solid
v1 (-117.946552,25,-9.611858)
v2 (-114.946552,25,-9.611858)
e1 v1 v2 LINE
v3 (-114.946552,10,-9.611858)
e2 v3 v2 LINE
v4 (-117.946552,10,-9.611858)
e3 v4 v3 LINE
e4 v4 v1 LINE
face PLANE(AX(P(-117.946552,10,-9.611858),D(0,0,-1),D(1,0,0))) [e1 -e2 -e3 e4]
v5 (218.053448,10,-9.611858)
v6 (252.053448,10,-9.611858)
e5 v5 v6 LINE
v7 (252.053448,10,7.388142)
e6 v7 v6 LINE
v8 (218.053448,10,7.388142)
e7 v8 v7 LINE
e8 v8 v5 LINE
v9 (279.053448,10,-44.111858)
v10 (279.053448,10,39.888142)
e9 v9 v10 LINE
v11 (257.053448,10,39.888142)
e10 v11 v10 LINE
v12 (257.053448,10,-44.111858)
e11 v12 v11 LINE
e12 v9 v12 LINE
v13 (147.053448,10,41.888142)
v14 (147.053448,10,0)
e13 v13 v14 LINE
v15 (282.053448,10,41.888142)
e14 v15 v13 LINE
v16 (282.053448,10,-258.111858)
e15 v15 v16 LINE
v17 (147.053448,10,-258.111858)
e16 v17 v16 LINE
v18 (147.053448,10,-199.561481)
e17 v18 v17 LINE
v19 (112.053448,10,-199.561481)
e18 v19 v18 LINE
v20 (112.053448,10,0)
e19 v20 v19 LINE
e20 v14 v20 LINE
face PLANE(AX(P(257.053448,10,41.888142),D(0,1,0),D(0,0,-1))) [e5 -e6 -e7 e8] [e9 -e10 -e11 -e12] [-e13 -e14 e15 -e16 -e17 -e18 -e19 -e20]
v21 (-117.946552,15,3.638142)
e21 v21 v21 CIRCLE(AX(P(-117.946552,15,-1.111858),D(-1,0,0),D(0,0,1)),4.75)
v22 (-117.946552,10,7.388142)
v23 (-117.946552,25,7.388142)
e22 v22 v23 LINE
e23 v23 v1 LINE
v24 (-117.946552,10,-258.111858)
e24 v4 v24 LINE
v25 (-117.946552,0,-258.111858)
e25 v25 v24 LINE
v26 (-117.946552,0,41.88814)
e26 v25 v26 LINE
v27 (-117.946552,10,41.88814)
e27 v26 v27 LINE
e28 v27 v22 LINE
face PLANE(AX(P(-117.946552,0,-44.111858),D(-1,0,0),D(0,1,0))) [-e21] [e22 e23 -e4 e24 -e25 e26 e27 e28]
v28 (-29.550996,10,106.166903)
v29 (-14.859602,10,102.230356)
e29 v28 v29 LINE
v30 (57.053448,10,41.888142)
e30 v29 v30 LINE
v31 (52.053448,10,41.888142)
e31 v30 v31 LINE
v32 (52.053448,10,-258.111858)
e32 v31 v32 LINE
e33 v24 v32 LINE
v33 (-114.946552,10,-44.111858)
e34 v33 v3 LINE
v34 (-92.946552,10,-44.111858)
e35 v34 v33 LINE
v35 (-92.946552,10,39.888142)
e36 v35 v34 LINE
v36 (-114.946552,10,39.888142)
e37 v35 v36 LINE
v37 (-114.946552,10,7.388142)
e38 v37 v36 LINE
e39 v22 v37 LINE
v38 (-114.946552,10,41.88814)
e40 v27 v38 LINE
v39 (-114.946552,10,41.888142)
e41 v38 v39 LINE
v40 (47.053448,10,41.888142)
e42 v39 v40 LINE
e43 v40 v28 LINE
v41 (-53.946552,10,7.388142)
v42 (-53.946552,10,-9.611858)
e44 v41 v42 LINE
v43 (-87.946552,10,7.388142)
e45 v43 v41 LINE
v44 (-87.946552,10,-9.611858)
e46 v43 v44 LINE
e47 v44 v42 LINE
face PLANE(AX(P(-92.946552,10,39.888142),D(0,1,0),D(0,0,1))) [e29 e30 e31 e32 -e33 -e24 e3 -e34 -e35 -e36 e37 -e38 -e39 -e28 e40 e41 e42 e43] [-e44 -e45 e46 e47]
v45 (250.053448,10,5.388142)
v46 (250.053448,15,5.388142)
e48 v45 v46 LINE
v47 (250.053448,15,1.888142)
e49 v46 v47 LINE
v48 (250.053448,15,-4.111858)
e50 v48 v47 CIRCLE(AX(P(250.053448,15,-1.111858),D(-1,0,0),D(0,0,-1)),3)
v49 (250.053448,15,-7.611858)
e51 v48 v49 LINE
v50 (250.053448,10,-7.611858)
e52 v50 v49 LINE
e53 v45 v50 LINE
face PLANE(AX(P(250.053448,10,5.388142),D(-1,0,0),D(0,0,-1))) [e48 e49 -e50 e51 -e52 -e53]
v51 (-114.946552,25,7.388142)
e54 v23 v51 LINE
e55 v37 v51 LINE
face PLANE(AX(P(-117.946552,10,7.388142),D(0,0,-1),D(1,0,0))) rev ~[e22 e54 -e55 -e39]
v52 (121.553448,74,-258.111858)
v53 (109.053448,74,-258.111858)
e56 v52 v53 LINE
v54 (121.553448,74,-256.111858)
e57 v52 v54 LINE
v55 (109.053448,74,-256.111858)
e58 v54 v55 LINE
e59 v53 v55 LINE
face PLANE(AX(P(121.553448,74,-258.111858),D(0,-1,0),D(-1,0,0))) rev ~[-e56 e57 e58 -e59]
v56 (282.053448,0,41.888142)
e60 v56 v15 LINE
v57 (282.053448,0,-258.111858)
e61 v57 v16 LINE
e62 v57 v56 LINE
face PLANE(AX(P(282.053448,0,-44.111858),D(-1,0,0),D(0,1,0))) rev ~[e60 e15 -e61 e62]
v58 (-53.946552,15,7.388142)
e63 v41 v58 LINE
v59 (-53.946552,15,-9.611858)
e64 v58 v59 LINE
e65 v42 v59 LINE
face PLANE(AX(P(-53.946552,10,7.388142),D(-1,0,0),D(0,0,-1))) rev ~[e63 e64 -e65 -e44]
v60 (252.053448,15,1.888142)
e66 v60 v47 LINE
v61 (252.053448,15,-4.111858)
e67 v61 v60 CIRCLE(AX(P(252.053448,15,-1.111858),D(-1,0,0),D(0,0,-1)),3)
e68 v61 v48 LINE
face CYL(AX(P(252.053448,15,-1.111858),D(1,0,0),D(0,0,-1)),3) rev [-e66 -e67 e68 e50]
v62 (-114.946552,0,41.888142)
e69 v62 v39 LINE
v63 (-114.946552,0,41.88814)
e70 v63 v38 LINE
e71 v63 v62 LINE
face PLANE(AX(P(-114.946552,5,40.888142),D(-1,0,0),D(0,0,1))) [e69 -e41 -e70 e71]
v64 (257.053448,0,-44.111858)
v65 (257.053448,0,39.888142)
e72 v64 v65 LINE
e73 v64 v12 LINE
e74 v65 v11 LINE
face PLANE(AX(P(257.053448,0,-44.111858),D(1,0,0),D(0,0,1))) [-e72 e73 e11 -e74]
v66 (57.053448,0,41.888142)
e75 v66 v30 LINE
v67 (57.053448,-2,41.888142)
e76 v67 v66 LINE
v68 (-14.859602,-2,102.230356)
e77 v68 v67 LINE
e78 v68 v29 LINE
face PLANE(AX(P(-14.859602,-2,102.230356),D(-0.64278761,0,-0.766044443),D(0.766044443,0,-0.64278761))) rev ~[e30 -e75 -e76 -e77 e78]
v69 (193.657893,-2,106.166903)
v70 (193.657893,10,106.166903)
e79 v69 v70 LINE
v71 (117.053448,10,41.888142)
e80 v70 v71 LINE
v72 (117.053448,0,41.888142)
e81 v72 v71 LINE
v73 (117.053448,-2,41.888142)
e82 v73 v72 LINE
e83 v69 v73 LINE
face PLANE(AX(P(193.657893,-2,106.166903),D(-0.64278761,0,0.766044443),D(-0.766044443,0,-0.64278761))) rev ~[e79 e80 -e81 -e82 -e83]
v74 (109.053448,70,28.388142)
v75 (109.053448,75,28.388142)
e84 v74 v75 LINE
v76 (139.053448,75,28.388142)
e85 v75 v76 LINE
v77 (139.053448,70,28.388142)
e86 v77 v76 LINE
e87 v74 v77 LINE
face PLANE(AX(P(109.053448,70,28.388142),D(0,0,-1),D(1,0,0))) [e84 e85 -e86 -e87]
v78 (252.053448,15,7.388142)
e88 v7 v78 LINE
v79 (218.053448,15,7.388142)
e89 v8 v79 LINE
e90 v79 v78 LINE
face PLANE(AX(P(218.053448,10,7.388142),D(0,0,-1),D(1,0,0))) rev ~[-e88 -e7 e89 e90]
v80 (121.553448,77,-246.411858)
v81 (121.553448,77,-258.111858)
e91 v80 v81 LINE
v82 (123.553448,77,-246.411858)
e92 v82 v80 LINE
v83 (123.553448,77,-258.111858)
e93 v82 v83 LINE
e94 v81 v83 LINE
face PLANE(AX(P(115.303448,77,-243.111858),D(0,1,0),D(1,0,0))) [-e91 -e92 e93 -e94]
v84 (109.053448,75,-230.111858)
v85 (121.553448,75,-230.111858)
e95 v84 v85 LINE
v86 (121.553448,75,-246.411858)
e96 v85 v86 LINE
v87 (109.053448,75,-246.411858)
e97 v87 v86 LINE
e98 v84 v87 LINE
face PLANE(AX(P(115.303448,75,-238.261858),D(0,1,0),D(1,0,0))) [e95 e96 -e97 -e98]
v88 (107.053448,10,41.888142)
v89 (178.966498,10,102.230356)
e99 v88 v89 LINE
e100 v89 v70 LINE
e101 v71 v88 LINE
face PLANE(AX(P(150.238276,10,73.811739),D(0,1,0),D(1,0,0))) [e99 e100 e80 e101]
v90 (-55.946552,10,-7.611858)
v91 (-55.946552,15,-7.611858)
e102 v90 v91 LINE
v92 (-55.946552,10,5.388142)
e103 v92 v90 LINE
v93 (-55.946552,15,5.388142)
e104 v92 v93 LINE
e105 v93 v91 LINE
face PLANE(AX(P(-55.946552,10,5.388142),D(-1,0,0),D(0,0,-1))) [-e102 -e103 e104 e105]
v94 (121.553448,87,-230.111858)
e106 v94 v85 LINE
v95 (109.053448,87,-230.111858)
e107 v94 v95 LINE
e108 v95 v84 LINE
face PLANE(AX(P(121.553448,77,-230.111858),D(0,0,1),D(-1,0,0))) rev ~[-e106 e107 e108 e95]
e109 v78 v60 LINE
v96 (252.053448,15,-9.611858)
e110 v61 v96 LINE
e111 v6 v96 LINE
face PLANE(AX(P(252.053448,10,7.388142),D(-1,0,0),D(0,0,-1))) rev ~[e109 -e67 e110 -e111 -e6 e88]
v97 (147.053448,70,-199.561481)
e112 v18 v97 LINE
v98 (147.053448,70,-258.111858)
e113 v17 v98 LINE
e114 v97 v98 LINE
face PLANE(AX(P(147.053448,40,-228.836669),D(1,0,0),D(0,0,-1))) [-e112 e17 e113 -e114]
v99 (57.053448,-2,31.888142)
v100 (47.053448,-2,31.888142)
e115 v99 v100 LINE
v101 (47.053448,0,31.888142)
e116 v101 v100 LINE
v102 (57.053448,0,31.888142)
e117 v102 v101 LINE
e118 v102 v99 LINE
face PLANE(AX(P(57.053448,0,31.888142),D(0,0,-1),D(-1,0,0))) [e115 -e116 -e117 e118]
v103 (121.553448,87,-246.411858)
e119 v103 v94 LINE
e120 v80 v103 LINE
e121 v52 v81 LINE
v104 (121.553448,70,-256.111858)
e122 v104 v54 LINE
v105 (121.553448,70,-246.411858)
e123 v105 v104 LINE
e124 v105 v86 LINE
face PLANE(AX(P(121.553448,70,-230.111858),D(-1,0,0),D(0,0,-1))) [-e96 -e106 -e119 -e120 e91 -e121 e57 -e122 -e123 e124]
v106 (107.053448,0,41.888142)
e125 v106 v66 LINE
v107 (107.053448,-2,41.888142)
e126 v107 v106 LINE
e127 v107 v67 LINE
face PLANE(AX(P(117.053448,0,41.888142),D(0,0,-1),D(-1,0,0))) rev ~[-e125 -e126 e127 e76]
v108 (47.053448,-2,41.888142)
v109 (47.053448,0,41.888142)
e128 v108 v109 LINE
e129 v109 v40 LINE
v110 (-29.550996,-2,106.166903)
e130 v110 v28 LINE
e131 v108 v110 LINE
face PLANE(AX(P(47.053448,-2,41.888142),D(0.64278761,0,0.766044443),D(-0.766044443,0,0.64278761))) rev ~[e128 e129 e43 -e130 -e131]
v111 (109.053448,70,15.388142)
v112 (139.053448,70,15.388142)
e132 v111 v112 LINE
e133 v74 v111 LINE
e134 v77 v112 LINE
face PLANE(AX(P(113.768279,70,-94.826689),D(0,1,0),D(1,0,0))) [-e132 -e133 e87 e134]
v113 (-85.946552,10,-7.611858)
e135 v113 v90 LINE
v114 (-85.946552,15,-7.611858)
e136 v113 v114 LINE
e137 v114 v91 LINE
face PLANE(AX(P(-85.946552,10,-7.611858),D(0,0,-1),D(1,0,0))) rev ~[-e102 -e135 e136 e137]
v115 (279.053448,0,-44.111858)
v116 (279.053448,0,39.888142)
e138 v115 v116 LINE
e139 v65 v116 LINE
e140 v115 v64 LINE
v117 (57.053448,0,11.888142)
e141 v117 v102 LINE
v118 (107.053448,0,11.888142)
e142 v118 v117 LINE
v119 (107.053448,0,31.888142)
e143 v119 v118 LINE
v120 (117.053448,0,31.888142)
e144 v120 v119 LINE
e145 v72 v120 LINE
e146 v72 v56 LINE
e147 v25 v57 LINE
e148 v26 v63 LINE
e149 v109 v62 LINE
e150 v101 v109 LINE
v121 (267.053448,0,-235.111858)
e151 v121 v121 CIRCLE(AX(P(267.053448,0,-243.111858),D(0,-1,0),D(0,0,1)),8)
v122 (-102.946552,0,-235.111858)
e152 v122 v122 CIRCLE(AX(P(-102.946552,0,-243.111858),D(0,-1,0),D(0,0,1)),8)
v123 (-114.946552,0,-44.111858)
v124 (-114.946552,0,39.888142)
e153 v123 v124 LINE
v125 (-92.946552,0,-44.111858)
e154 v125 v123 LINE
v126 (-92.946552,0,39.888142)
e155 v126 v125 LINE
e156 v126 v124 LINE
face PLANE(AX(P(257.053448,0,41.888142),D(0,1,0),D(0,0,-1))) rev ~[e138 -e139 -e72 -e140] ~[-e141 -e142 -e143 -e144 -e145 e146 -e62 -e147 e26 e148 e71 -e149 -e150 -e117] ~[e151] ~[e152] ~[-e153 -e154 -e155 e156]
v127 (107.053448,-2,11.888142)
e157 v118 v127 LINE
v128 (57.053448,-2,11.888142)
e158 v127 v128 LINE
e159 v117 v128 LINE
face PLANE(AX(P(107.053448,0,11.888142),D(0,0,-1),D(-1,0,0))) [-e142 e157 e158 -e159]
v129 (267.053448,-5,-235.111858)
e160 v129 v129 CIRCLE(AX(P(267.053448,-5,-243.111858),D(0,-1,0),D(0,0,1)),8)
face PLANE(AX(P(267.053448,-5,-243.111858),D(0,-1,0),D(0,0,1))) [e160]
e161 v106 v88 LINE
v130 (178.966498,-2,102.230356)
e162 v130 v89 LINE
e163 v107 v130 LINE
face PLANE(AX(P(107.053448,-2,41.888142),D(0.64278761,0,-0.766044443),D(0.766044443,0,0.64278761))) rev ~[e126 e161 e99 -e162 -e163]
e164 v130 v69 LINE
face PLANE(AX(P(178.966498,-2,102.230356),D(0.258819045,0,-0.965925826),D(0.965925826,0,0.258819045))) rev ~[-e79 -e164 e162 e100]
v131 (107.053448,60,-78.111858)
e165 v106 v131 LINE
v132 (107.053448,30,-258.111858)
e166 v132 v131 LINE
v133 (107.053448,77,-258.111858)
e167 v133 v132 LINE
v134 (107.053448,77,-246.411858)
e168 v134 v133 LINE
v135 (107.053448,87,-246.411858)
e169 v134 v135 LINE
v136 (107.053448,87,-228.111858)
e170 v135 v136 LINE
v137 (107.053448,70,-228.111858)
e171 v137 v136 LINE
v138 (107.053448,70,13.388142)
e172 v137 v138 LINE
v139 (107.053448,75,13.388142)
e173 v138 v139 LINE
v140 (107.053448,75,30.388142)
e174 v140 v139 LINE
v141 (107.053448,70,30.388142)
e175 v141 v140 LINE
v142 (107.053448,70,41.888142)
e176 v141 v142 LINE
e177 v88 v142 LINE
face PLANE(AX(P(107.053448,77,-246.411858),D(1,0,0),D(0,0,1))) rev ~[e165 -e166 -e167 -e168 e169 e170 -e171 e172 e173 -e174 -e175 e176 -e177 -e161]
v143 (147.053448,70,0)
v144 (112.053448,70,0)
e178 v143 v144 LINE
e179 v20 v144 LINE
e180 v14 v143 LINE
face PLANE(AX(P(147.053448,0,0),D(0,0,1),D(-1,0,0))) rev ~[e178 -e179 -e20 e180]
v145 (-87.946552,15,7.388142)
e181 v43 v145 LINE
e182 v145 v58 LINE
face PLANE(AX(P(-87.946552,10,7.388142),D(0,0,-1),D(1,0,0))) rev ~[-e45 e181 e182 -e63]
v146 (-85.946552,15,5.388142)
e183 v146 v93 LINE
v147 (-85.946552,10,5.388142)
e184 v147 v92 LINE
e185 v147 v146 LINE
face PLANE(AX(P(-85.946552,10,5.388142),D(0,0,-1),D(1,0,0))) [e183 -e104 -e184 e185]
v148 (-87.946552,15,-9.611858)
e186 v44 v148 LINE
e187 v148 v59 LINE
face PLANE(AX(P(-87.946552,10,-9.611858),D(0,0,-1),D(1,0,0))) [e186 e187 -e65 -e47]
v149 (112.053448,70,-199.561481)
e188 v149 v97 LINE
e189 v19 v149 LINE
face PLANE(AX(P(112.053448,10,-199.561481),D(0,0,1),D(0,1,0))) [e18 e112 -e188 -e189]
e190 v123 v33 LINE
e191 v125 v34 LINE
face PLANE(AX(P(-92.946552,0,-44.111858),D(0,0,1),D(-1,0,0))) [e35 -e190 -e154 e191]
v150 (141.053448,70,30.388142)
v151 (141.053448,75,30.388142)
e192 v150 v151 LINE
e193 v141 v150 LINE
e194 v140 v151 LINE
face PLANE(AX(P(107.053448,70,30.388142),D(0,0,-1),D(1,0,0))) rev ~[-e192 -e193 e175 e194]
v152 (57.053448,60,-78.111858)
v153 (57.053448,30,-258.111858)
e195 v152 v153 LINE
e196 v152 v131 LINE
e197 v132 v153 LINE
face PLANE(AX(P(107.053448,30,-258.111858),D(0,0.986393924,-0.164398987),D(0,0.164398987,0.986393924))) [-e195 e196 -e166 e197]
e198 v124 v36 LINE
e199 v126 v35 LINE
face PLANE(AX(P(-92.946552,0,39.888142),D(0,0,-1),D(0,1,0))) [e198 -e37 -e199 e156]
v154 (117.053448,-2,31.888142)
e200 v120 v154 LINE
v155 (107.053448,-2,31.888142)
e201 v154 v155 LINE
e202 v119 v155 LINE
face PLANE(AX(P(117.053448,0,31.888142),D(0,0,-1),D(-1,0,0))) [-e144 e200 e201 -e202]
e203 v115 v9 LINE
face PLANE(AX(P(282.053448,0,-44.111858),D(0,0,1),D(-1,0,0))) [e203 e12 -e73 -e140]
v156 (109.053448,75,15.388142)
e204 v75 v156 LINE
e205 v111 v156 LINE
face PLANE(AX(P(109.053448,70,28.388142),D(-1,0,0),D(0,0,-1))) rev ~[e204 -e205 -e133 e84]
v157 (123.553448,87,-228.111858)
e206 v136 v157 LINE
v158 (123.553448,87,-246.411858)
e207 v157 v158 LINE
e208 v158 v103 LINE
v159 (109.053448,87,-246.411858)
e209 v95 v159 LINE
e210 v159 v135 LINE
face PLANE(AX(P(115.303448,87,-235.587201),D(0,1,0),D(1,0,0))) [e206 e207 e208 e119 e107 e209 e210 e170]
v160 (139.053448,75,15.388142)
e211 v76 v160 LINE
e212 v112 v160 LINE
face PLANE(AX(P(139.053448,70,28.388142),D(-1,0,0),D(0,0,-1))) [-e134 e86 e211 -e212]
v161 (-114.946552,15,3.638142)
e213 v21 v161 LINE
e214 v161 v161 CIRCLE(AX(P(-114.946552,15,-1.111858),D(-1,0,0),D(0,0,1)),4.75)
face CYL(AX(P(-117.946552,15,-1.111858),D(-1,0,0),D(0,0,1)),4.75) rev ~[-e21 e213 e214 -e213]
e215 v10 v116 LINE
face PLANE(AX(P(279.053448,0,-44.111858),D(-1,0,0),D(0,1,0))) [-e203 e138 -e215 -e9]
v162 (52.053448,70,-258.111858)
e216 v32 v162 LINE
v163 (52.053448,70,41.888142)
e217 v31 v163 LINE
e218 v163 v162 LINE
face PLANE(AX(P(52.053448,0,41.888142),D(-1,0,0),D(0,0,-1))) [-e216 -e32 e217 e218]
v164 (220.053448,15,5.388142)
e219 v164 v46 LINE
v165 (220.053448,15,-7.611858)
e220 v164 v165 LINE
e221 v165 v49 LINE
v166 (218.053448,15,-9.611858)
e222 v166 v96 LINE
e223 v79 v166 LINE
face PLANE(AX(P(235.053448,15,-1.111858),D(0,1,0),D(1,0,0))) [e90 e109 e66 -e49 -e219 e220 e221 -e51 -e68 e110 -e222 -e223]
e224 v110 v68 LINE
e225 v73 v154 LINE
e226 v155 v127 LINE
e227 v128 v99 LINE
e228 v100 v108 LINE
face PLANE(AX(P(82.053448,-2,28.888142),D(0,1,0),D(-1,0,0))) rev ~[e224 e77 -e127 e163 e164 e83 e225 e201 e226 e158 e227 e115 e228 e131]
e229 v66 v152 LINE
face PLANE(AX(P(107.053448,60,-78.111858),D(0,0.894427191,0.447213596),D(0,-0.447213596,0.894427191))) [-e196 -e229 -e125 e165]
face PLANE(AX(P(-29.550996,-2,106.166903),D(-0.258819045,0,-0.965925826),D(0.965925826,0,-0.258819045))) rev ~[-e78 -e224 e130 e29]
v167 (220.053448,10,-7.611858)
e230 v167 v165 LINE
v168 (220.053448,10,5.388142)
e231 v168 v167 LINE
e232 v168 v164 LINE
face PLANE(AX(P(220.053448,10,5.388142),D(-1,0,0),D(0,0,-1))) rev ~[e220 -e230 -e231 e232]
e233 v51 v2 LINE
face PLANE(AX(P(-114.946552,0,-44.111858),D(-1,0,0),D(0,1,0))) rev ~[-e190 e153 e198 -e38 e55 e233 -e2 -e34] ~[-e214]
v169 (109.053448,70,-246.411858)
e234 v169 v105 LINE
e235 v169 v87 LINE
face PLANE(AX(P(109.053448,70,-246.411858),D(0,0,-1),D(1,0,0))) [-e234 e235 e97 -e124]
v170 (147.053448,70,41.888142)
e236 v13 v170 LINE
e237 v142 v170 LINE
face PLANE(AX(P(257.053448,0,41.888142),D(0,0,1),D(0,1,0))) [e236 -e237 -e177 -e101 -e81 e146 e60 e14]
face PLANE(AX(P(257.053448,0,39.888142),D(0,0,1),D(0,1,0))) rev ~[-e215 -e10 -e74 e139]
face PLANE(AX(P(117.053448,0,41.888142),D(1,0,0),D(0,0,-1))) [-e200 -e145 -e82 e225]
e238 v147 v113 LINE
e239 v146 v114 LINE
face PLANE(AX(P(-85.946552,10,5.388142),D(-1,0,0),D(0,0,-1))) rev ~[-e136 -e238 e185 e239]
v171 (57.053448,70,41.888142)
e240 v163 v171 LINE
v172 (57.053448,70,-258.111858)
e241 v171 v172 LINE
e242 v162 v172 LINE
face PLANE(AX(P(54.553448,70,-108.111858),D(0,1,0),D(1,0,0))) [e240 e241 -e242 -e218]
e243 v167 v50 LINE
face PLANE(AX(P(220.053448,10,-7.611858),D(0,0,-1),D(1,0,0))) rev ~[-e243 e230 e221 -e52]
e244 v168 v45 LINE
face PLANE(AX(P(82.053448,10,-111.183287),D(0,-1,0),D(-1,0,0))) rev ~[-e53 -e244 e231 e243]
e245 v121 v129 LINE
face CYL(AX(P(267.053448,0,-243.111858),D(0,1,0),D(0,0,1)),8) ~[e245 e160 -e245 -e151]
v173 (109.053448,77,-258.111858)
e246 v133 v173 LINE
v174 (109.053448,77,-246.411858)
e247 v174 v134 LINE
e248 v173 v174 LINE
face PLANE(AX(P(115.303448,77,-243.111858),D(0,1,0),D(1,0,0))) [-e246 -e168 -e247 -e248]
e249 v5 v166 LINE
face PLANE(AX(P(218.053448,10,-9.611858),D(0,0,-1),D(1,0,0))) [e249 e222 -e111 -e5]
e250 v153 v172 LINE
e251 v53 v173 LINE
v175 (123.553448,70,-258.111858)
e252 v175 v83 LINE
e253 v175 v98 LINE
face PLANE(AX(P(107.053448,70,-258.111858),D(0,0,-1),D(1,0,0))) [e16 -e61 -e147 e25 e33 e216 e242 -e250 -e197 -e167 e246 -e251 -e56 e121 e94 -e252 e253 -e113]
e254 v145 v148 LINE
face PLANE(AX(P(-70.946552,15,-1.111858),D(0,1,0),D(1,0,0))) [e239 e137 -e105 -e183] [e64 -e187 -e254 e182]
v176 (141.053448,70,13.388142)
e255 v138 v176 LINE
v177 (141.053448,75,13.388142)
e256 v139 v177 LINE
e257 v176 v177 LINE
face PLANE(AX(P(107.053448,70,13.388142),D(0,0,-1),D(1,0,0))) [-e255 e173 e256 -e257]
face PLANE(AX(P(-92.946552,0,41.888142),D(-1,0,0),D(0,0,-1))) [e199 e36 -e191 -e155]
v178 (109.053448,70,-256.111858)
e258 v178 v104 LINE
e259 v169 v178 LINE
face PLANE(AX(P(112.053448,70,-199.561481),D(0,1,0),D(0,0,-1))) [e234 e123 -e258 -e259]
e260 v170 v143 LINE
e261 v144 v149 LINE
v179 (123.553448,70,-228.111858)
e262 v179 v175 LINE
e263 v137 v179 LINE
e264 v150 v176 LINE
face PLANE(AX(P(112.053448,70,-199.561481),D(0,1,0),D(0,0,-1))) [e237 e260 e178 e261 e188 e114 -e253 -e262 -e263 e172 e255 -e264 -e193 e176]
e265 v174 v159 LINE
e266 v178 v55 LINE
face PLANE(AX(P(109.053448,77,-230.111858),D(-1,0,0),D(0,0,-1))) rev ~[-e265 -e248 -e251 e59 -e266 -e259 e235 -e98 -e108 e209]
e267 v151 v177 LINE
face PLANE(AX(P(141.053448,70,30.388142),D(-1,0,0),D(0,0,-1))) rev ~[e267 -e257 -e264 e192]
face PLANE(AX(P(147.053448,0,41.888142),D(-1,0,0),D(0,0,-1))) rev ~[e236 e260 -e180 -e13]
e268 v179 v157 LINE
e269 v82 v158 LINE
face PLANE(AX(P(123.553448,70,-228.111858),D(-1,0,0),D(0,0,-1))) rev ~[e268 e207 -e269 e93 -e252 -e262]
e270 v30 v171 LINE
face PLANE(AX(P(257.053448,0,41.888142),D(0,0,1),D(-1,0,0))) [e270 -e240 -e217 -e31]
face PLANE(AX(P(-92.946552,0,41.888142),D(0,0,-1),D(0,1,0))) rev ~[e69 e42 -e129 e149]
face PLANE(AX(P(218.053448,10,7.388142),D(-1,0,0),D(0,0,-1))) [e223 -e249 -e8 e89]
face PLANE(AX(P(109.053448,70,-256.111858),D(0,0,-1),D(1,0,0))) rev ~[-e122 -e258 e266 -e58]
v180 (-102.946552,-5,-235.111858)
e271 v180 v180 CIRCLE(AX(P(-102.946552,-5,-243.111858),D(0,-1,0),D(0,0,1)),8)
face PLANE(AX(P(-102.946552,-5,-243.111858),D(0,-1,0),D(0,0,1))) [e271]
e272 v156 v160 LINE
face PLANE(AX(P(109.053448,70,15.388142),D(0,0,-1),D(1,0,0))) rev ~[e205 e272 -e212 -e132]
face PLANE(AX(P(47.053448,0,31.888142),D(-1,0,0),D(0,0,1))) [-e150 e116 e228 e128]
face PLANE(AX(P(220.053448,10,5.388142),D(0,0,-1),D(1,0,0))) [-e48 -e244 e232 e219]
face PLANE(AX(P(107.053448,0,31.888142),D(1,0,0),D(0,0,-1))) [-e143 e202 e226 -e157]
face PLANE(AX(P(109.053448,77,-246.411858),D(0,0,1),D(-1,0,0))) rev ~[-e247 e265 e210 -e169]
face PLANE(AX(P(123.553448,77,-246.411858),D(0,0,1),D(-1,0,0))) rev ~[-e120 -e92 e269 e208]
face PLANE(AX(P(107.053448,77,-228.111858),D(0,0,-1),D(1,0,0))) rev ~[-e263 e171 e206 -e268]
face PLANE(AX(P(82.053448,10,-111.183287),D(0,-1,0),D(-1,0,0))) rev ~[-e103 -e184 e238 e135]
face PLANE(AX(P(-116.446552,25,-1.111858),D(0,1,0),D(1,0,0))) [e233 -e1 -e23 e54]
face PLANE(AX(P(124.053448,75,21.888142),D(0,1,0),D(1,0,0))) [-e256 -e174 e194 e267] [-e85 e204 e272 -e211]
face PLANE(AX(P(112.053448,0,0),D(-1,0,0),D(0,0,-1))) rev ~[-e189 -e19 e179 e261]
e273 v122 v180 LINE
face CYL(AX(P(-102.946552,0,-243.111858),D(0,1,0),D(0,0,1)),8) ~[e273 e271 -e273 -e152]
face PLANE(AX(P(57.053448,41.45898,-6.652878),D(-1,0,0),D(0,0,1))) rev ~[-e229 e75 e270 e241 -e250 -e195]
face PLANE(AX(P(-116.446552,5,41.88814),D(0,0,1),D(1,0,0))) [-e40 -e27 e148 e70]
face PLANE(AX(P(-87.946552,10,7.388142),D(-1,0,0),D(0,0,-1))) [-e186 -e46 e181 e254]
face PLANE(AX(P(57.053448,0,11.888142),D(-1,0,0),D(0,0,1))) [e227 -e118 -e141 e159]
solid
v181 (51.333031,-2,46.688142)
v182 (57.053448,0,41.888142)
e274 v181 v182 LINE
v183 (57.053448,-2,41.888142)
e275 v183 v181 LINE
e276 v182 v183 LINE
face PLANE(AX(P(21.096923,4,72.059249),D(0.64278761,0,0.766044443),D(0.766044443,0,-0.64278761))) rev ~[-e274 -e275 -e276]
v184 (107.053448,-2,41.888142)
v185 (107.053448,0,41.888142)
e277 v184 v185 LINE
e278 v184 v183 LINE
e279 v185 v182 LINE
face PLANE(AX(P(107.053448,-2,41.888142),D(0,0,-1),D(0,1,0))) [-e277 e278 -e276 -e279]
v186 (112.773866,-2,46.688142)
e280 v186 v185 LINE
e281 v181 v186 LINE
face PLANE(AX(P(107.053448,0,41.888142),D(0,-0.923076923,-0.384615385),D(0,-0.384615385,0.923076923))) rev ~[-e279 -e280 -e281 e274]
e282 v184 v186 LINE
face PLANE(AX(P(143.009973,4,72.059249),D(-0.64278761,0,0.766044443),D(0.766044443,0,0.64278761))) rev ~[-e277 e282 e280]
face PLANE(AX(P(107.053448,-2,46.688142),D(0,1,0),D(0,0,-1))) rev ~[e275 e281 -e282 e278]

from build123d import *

# Parameters (mm, degrees)
BOSS_EXTRUDE3_DEPTH              = 10
SKETCH2_W                        = 34
SKETCH2_H                        = 17
SKETCH2_W_2                      = 30
SKETCH2_H_2                      = 13
BOSS_EXTRUDE4_DEPTH              = 5
SKETCH3_W                        = 50
SKETCH3_H                        = 120
BOSS_EXTRUDE5_DEPTH              = 50
CUT_EXTRUDE2_DEPTH               = 50
SKETCH5_W                        = 50
SKETCH5_H                        = 180
BOSS_EXTRUDE6_DEPTH              = 50
CUT_EXTRUDE3_DEPTH               = 348.630164486
SKETCH7_W                        = 5
SKETCH7_H                        = 300
BOSS_EXTRUDE7_DEPTH              = 70
SKETCH9_W                        = 34
SKETCH9_H                        = 17
SKETCH9_W_2                      = 30
SKETCH9_H_2                      = 13
BOSS_EXTRUDE8_DEPTH              = 5
SKETCH10_W                       = 58.550377391
SKETCH10_H                       = 60
BOSS_EXTRUDE9_DEPTH              = 35
SKETCH13_W                       = 16.5
SKETCH13_H                       = 30
SKETCH13_W_2                     = 12.5
SKETCH13_H_2                     = 26
BOSS_EXTRUDE11_DEPTH             = 7
BOSS_EXTRUDE16_DEPTH             = 10
BOSS_EXTRUDE16_DEPTH_BACK        = 2
BOSS_EXTRUDE19_DEPTH             = 2
BOSS_EXTRUDE23_REACH             = 352.964
BOSS_EXTRUDE23_DIRECTION_2_REACH = 352.964
SKETCH28_W                       = 3
SKETCH28_H                       = 10
BOSS_EXTRUDE24_DEPTH             = 85.999998
SKETCH30_W                       = 3
SKETCH30_H                       = 10
BOSS_EXTRUDE26_DEPTH             = 86
SKETCH32_W                       = 12.5
SKETCH32_H                       = 16.3
BOSS_EXTRUDE28_DEPTH             = 5
BOSS_EXTRUDE31_DEPTH             = 10
SKETCH35_W                       = 12.5
SKETCH35_H                       = 3
CUT_EXTRUDE4_DEPTH               = 2
CUT_EXTRUDE14_DEPTH              = 2
SKETCH41_W                       = 3
SKETCH41_H                       = 17
BOSS_EXTRUDE33_DEPTH             = 15
SKETCH42_R                       = 4.75
CUT_EXTRUDE11_DEPTH              = 3
SKETCH14_R                       = 8
BOSS_EXTRUDE34_DEPTH             = 5
SKETCH16_R                       = 8
BOSS_EXTRUDE35_DEPTH             = 5
SKETCH43_W                       = 2
SKETCH43_H                       = 10
BOSS_EXTRUDE36_DEPTH             = 22
BOSS_EXTRUDE37_REACH             = 465.482
SKETCH44_W                       = 2
SKETCH44_H                       = 10


with BuildPart() as part:
    # Sketch1 → Boss-Extrude3 (new body)
    with BuildSketch(Plane(origin=(0, 0, 0), x_dir=(1, 0, 0), z_dir=(0, 1, 0))):
        Polygon((-117.946551632, 258.11185804), (282.053448368, 258.11185804), (282.053448368, 44.11185804), (257.053448368, 44.11185804), (257.053448368, -41.88814196), (-92.946551632, -41.88814196), (-92.946551632, 44.11185804), (-117.946551632, 44.11185804), align=None)
    extrude(amount=BOSS_EXTRUDE3_DEPTH)

    # Sketch2 → Boss-Extrude4 (add)
    # profile 1 of 2: a face of its own
    with BuildSketch(Plane(origin=(0, 10, 0), x_dir=(1, 0, 0), z_dir=(0, 1, 0))):
        with Locations((-70.946551632, 1.11185804)):
            Rectangle(SKETCH2_W, SKETCH2_H)
        with Locations((-70.946551632, 1.11185804)):
            Rectangle(SKETCH2_W_2, SKETCH2_H_2, mode=Mode.SUBTRACT)
    # profile 2 of 2: a face of its own
    with BuildSketch(Plane(origin=(0, 10, 0), x_dir=(1, 0, 0), z_dir=(0, 1, 0))):
        with Locations((235.053448368, 1.11185804)):
            Rectangle(SKETCH2_W, SKETCH2_H)
        with Locations((235.053448368, 1.11185804)):
            Rectangle(SKETCH2_W_2, SKETCH2_H_2, mode=Mode.SUBTRACT)
    extrude(amount=BOSS_EXTRUDE4_DEPTH)

    # Sketch3 → Boss-Extrude5 (add)
    with BuildSketch(Plane(origin=(0, 10, 0), x_dir=(1, 0, 0), z_dir=(0, 1, 0))):
        with Locations((82.053448368, 18.11185804)):
            Rectangle(SKETCH3_W, SKETCH3_H)
    extrude(amount=BOSS_EXTRUDE5_DEPTH)

    # Sketch4 → Cut-Extrude2 (cut)
    with BuildSketch(Plane(origin=(107.053448368, 0, 0), x_dir=(0, 0, -1), z_dir=(1, 0, 0))):
        Polygon((-41.88814196, 60), (78.11185804, 60), (-41.88814196, 0), align=None)
    extrude(amount=-CUT_EXTRUDE2_DEPTH, mode=Mode.SUBTRACT)

    # Sketch5 → Boss-Extrude6 (add)
    with BuildSketch(Plane(origin=(0, 10, 0), x_dir=(1, 0, 0), z_dir=(0, 1, 0))):
        with Locations((82.053448368, 168.11185804)):
            Rectangle(SKETCH5_W, SKETCH5_H)
    extrude(amount=BOSS_EXTRUDE6_DEPTH)

    # Sketch6 → Cut-Extrude3 (cut, through all)
    with BuildSketch(Plane(origin=(107.053448368, 0, 0), x_dir=(0, 0, -1), z_dir=(1, 0, 0))):
        Polygon((78.11185804, 60), (258.11185804, 60), (258.11185804, 30), align=None)
    extrude(amount=-CUT_EXTRUDE3_DEPTH, mode=Mode.SUBTRACT)

    # Sketch7 → Boss-Extrude7 (add)
    with BuildSketch(Plane(origin=(0, 0, 0), x_dir=(1, 0, 0), z_dir=(0, 1, 0))):
        with Locations((54.553448368, 108.11185804)):
            Rectangle(SKETCH7_W, SKETCH7_H)
        Polygon((112.053448368, 258.11185804), (107.053448368, 258.11185804), (107.053448368, -41.88814196), (147.053448368, -41.88814196), (147.053448368, 0), (112.053448368, 0), align=None)
    extrude(amount=BOSS_EXTRUDE7_DEPTH)

    # Sketch9 → Boss-Extrude8 (add)
    with BuildSketch(Plane(origin=(0, 70, 0), x_dir=(1, 0, 0), z_dir=(0, 1, 0))):
        with Locations((124.053448368, -21.88814196)):
            Rectangle(SKETCH9_W, SKETCH9_H)
        with Locations((124.053448368, -21.88814196)):
            Rectangle(SKETCH9_W_2, SKETCH9_H_2, mode=Mode.SUBTRACT)
    extrude(amount=BOSS_EXTRUDE8_DEPTH)

    # Sketch10 → Boss-Extrude9 (add)
    with BuildSketch(Plane(origin=(112.053448368, 0, 0), x_dir=(0, 0, -1), z_dir=(1, 0, 0))):
        with Locations((228.836669345, 40)):
            Rectangle(SKETCH10_W, SKETCH10_H)
    extrude(amount=BOSS_EXTRUDE9_DEPTH)

    # Sketch13 → Boss-Extrude11 (add)
    with BuildSketch(Plane(origin=(0, 70, 0), x_dir=(1, 0, 0), z_dir=(0, 1, 0))):
        with Locations((115.303448368, 243.11185804)):
            Rectangle(SKETCH13_W, SKETCH13_H)
        with Locations((115.303448368, 243.11185804)):
            Rectangle(SKETCH13_W_2, SKETCH13_H_2, mode=Mode.SUBTRACT)
    extrude(amount=BOSS_EXTRUDE11_DEPTH)

    # Sketch20 → Boss-Extrude16 (add, two sides: drawn at the far end of the back side and taken through both)
    with BuildSketch(Plane(origin=(0, 0, 0), x_dir=(1, 0, 0), z_dir=(0, 1, 0)).offset(-BOSS_EXTRUDE16_DEPTH_BACK)):
        Polygon((47.053448368, -41.88814196), (-29.550995944, -106.166902929), (-14.859601624, -102.230355685), (57.053448368, -41.88814196), align=None)
        Polygon((107.053448368, -41.88814196), (178.96649836, -102.230355685), (193.65789268, -106.166902929), (117.053448368, -41.88814196), align=None)
    extrude(amount=BOSS_EXTRUDE16_DEPTH + BOSS_EXTRUDE16_DEPTH_BACK)

    # Sketch21 → Boss-Extrude19 (add)
    with BuildSketch(Plane.XZ):
        Polygon((57.053448368, 41.88814196), (107.053448368, 41.88814196), (117.053448368, 41.88814196), (117.053448368, 31.88814196), (107.053448368, 31.88814196), (107.053448368, 11.88814196), (57.053448368, 11.88814196), (57.053448368, 31.88814196), (47.053448368, 31.88814196), (47.053448368, 41.88814196), align=None)
    extrude(amount=BOSS_EXTRUDE19_DEPTH)


with BuildPart() as body_2:

    # Boss-Extrude23: up to this face of the body (flat: up to its plane)
    boss_extrude23_end = Plane(part.part.faces().sort_by_distance((21.096923372, 4, 72.059248823))[0])
    # Sketch23 → Boss-Extrude23 (new, up to the picked face)
    with BuildSketch(Plane(origin=(107.053448368, 0, 0), x_dir=(0, 0, -1), z_dir=(1, 0, 0)), mode=Mode.PRIVATE) as boss_extrude23_sk1:
        Polygon((-41.88814196, 0), (-46.68814196, -2), (-41.88814196, -2), align=None)
    boss_extrude23_tool1 = split(extrude(boss_extrude23_sk1.sketch, amount=-BOSS_EXTRUDE23_REACH, mode=Mode.PRIVATE), bisect_by=boss_extrude23_end, keep=Keep.BOTH, mode=Mode.PRIVATE)
    add(boss_extrude23_tool1.solids().sort_by(Axis((107.053448, -1.333333, 43.488142), (-1, 0, 0)))[0])


    # Boss-Extrude23 direction 2: up to this face of the body (flat: up to its plane)
    boss_extrude23_direction_2_end = Plane(part.part.faces().sort_by_distance((143.009973364, 4, 72.059248823))[0])
    # Sketch23 → Boss-Extrude23 direction 2 (add, up to the picked face)
    with BuildSketch(Plane(origin=(107.053448368, 0, 0), x_dir=(0, 0, -1), z_dir=(1, 0, 0)), mode=Mode.PRIVATE) as boss_extrude23_direction_2_sk1:
        Polygon((-41.88814196, 0), (-46.68814196, -2), (-41.88814196, -2), align=None)
    boss_extrude23_direction_2_tool1 = split(extrude(boss_extrude23_direction_2_sk1.sketch, amount=BOSS_EXTRUDE23_DIRECTION_2_REACH, mode=Mode.PRIVATE), bisect_by=boss_extrude23_direction_2_end, keep=Keep.BOTH, mode=Mode.PRIVATE)
    add(boss_extrude23_direction_2_tool1.solids().sort_by(Axis((107.053448, -1.333333, 43.488142), (1, 0, 0)))[0])


with BuildPart() as part_1:
    add(part.part)

    # Sketch28 → Boss-Extrude24 (add)
    with BuildSketch(Plane.XY.offset(-44.11185804)):
        with Locations((-116.446551632, 5)):
            Rectangle(SKETCH28_W, SKETCH28_H)
    extrude(amount=BOSS_EXTRUDE24_DEPTH)

    # Sketch30 → Boss-Extrude26 (add)
    with BuildSketch(Plane.XY.offset(-44.11185804)):
        with Locations((280.553448368, 5)):
            Rectangle(SKETCH30_W, SKETCH30_H)
    extrude(amount=BOSS_EXTRUDE26_DEPTH)

    # Sketch32 → Boss-Extrude28 (add)
    with BuildSketch(Plane(origin=(0, 70, 0), x_dir=(1, 0, 0), z_dir=(0, 1, 0))):
        with Locations((115.303448368, 238.26185804)):
            Rectangle(SKETCH32_W, SKETCH32_H)
    extrude(amount=BOSS_EXTRUDE28_DEPTH)

    # Sketch34 → Boss-Extrude31 (add)
    with BuildSketch(Plane(origin=(0, 77, 0), x_dir=(1, 0, 0), z_dir=(0, 1, 0))):
        Polygon((109.053448368, 246.41185804), (107.053448368, 246.41185804), (107.053448368, 228.11185804), (123.553448368, 228.11185804), (123.553448368, 246.41185804), (121.553448368, 246.41185804), (121.553448368, 230.11185804), (109.053448368, 230.11185804), align=None)
    extrude(amount=BOSS_EXTRUDE31_DEPTH)

    # Sketch35 → Cut-Extrude4 (cut)
    with BuildSketch(Plane(origin=(0, 0, -258.11185804), x_dir=(-1, 0, 0), z_dir=(0, 0, -1))):
        with Locations((-115.303448368, 75.5)):
            Rectangle(SKETCH35_W, SKETCH35_H)
    extrude(amount=-CUT_EXTRUDE4_DEPTH, mode=Mode.SUBTRACT)

    # Sketch47 → Cut-Extrude14 (cut)
    with BuildSketch(Plane(origin=(252.053448368, 0, 0), x_dir=(0, 0, -1), z_dir=(1, 0, 0))):
        with BuildLine():
            Line((-1.88814196, 15), (4.11185804, 15))
            ThreePointArc((4.11185804, 15), (1.11185804, 12), (-1.88814196, 15))
        make_face()
    extrude(amount=-CUT_EXTRUDE14_DEPTH, mode=Mode.SUBTRACT)

    # Sketch41 → Boss-Extrude33 (add)
    with BuildSketch(Plane(origin=(0, 10, 0), x_dir=(1, 0, 0), z_dir=(0, 1, 0))):
        with Locations((-116.446551632, 1.11185804)):
            Rectangle(SKETCH41_W, SKETCH41_H)
    extrude(amount=BOSS_EXTRUDE33_DEPTH)

    # Sketch42 → Cut-Extrude11 (cut)
    with BuildSketch(Plane.ZY.offset(117.946551632)):
        with Locations((-1.11185804, 15)):
            Circle(SKETCH42_R)
    extrude(amount=-CUT_EXTRUDE11_DEPTH, mode=Mode.SUBTRACT)

    # Sketch14 → Boss-Extrude34 (add)
    with BuildSketch(Plane.XZ):
        with Locations(Location((267.053448368, -243.11185804, 0), (0, 0, 90))):
            Circle(SKETCH14_R)
    extrude(amount=BOSS_EXTRUDE34_DEPTH)

    # Sketch16 → Boss-Extrude35 (add)
    with BuildSketch(Plane.XZ):
        with Locations(Location((-102.946551632, -243.11185804, 0), (0, 0, 90))):
            Circle(SKETCH16_R)
    extrude(amount=BOSS_EXTRUDE35_DEPTH)

    # Sketch43 → Boss-Extrude36 (add)
    with BuildSketch(Plane.ZY.offset(92.946551632)):
        with Locations((40.88814196, 5)):
            Rectangle(SKETCH43_W, SKETCH43_H)
    extrude(amount=BOSS_EXTRUDE36_DEPTH)

    # Sketch44 → Boss-Extrude37 (add, up to next)
    with BuildSketch(Plane(origin=(257.053448368, 0, 0), x_dir=(0, 0, -1), z_dir=(1, 0, 0)), mode=Mode.PRIVATE) as boss_extrude37_sk1:
        with Locations((-40.88814196, 5)):
            Rectangle(SKETCH44_W, SKETCH44_H)
    boss_extrude37_tool1 = extrude(boss_extrude37_sk1.sketch, amount=BOSS_EXTRUDE37_REACH, mode=Mode.PRIVATE) - part_1.part
    add(boss_extrude37_tool1.solids().sort_by_distance((257.053448, 5, 40.888142))[0])


solid = Compound([body_2.part, part_1.part])
